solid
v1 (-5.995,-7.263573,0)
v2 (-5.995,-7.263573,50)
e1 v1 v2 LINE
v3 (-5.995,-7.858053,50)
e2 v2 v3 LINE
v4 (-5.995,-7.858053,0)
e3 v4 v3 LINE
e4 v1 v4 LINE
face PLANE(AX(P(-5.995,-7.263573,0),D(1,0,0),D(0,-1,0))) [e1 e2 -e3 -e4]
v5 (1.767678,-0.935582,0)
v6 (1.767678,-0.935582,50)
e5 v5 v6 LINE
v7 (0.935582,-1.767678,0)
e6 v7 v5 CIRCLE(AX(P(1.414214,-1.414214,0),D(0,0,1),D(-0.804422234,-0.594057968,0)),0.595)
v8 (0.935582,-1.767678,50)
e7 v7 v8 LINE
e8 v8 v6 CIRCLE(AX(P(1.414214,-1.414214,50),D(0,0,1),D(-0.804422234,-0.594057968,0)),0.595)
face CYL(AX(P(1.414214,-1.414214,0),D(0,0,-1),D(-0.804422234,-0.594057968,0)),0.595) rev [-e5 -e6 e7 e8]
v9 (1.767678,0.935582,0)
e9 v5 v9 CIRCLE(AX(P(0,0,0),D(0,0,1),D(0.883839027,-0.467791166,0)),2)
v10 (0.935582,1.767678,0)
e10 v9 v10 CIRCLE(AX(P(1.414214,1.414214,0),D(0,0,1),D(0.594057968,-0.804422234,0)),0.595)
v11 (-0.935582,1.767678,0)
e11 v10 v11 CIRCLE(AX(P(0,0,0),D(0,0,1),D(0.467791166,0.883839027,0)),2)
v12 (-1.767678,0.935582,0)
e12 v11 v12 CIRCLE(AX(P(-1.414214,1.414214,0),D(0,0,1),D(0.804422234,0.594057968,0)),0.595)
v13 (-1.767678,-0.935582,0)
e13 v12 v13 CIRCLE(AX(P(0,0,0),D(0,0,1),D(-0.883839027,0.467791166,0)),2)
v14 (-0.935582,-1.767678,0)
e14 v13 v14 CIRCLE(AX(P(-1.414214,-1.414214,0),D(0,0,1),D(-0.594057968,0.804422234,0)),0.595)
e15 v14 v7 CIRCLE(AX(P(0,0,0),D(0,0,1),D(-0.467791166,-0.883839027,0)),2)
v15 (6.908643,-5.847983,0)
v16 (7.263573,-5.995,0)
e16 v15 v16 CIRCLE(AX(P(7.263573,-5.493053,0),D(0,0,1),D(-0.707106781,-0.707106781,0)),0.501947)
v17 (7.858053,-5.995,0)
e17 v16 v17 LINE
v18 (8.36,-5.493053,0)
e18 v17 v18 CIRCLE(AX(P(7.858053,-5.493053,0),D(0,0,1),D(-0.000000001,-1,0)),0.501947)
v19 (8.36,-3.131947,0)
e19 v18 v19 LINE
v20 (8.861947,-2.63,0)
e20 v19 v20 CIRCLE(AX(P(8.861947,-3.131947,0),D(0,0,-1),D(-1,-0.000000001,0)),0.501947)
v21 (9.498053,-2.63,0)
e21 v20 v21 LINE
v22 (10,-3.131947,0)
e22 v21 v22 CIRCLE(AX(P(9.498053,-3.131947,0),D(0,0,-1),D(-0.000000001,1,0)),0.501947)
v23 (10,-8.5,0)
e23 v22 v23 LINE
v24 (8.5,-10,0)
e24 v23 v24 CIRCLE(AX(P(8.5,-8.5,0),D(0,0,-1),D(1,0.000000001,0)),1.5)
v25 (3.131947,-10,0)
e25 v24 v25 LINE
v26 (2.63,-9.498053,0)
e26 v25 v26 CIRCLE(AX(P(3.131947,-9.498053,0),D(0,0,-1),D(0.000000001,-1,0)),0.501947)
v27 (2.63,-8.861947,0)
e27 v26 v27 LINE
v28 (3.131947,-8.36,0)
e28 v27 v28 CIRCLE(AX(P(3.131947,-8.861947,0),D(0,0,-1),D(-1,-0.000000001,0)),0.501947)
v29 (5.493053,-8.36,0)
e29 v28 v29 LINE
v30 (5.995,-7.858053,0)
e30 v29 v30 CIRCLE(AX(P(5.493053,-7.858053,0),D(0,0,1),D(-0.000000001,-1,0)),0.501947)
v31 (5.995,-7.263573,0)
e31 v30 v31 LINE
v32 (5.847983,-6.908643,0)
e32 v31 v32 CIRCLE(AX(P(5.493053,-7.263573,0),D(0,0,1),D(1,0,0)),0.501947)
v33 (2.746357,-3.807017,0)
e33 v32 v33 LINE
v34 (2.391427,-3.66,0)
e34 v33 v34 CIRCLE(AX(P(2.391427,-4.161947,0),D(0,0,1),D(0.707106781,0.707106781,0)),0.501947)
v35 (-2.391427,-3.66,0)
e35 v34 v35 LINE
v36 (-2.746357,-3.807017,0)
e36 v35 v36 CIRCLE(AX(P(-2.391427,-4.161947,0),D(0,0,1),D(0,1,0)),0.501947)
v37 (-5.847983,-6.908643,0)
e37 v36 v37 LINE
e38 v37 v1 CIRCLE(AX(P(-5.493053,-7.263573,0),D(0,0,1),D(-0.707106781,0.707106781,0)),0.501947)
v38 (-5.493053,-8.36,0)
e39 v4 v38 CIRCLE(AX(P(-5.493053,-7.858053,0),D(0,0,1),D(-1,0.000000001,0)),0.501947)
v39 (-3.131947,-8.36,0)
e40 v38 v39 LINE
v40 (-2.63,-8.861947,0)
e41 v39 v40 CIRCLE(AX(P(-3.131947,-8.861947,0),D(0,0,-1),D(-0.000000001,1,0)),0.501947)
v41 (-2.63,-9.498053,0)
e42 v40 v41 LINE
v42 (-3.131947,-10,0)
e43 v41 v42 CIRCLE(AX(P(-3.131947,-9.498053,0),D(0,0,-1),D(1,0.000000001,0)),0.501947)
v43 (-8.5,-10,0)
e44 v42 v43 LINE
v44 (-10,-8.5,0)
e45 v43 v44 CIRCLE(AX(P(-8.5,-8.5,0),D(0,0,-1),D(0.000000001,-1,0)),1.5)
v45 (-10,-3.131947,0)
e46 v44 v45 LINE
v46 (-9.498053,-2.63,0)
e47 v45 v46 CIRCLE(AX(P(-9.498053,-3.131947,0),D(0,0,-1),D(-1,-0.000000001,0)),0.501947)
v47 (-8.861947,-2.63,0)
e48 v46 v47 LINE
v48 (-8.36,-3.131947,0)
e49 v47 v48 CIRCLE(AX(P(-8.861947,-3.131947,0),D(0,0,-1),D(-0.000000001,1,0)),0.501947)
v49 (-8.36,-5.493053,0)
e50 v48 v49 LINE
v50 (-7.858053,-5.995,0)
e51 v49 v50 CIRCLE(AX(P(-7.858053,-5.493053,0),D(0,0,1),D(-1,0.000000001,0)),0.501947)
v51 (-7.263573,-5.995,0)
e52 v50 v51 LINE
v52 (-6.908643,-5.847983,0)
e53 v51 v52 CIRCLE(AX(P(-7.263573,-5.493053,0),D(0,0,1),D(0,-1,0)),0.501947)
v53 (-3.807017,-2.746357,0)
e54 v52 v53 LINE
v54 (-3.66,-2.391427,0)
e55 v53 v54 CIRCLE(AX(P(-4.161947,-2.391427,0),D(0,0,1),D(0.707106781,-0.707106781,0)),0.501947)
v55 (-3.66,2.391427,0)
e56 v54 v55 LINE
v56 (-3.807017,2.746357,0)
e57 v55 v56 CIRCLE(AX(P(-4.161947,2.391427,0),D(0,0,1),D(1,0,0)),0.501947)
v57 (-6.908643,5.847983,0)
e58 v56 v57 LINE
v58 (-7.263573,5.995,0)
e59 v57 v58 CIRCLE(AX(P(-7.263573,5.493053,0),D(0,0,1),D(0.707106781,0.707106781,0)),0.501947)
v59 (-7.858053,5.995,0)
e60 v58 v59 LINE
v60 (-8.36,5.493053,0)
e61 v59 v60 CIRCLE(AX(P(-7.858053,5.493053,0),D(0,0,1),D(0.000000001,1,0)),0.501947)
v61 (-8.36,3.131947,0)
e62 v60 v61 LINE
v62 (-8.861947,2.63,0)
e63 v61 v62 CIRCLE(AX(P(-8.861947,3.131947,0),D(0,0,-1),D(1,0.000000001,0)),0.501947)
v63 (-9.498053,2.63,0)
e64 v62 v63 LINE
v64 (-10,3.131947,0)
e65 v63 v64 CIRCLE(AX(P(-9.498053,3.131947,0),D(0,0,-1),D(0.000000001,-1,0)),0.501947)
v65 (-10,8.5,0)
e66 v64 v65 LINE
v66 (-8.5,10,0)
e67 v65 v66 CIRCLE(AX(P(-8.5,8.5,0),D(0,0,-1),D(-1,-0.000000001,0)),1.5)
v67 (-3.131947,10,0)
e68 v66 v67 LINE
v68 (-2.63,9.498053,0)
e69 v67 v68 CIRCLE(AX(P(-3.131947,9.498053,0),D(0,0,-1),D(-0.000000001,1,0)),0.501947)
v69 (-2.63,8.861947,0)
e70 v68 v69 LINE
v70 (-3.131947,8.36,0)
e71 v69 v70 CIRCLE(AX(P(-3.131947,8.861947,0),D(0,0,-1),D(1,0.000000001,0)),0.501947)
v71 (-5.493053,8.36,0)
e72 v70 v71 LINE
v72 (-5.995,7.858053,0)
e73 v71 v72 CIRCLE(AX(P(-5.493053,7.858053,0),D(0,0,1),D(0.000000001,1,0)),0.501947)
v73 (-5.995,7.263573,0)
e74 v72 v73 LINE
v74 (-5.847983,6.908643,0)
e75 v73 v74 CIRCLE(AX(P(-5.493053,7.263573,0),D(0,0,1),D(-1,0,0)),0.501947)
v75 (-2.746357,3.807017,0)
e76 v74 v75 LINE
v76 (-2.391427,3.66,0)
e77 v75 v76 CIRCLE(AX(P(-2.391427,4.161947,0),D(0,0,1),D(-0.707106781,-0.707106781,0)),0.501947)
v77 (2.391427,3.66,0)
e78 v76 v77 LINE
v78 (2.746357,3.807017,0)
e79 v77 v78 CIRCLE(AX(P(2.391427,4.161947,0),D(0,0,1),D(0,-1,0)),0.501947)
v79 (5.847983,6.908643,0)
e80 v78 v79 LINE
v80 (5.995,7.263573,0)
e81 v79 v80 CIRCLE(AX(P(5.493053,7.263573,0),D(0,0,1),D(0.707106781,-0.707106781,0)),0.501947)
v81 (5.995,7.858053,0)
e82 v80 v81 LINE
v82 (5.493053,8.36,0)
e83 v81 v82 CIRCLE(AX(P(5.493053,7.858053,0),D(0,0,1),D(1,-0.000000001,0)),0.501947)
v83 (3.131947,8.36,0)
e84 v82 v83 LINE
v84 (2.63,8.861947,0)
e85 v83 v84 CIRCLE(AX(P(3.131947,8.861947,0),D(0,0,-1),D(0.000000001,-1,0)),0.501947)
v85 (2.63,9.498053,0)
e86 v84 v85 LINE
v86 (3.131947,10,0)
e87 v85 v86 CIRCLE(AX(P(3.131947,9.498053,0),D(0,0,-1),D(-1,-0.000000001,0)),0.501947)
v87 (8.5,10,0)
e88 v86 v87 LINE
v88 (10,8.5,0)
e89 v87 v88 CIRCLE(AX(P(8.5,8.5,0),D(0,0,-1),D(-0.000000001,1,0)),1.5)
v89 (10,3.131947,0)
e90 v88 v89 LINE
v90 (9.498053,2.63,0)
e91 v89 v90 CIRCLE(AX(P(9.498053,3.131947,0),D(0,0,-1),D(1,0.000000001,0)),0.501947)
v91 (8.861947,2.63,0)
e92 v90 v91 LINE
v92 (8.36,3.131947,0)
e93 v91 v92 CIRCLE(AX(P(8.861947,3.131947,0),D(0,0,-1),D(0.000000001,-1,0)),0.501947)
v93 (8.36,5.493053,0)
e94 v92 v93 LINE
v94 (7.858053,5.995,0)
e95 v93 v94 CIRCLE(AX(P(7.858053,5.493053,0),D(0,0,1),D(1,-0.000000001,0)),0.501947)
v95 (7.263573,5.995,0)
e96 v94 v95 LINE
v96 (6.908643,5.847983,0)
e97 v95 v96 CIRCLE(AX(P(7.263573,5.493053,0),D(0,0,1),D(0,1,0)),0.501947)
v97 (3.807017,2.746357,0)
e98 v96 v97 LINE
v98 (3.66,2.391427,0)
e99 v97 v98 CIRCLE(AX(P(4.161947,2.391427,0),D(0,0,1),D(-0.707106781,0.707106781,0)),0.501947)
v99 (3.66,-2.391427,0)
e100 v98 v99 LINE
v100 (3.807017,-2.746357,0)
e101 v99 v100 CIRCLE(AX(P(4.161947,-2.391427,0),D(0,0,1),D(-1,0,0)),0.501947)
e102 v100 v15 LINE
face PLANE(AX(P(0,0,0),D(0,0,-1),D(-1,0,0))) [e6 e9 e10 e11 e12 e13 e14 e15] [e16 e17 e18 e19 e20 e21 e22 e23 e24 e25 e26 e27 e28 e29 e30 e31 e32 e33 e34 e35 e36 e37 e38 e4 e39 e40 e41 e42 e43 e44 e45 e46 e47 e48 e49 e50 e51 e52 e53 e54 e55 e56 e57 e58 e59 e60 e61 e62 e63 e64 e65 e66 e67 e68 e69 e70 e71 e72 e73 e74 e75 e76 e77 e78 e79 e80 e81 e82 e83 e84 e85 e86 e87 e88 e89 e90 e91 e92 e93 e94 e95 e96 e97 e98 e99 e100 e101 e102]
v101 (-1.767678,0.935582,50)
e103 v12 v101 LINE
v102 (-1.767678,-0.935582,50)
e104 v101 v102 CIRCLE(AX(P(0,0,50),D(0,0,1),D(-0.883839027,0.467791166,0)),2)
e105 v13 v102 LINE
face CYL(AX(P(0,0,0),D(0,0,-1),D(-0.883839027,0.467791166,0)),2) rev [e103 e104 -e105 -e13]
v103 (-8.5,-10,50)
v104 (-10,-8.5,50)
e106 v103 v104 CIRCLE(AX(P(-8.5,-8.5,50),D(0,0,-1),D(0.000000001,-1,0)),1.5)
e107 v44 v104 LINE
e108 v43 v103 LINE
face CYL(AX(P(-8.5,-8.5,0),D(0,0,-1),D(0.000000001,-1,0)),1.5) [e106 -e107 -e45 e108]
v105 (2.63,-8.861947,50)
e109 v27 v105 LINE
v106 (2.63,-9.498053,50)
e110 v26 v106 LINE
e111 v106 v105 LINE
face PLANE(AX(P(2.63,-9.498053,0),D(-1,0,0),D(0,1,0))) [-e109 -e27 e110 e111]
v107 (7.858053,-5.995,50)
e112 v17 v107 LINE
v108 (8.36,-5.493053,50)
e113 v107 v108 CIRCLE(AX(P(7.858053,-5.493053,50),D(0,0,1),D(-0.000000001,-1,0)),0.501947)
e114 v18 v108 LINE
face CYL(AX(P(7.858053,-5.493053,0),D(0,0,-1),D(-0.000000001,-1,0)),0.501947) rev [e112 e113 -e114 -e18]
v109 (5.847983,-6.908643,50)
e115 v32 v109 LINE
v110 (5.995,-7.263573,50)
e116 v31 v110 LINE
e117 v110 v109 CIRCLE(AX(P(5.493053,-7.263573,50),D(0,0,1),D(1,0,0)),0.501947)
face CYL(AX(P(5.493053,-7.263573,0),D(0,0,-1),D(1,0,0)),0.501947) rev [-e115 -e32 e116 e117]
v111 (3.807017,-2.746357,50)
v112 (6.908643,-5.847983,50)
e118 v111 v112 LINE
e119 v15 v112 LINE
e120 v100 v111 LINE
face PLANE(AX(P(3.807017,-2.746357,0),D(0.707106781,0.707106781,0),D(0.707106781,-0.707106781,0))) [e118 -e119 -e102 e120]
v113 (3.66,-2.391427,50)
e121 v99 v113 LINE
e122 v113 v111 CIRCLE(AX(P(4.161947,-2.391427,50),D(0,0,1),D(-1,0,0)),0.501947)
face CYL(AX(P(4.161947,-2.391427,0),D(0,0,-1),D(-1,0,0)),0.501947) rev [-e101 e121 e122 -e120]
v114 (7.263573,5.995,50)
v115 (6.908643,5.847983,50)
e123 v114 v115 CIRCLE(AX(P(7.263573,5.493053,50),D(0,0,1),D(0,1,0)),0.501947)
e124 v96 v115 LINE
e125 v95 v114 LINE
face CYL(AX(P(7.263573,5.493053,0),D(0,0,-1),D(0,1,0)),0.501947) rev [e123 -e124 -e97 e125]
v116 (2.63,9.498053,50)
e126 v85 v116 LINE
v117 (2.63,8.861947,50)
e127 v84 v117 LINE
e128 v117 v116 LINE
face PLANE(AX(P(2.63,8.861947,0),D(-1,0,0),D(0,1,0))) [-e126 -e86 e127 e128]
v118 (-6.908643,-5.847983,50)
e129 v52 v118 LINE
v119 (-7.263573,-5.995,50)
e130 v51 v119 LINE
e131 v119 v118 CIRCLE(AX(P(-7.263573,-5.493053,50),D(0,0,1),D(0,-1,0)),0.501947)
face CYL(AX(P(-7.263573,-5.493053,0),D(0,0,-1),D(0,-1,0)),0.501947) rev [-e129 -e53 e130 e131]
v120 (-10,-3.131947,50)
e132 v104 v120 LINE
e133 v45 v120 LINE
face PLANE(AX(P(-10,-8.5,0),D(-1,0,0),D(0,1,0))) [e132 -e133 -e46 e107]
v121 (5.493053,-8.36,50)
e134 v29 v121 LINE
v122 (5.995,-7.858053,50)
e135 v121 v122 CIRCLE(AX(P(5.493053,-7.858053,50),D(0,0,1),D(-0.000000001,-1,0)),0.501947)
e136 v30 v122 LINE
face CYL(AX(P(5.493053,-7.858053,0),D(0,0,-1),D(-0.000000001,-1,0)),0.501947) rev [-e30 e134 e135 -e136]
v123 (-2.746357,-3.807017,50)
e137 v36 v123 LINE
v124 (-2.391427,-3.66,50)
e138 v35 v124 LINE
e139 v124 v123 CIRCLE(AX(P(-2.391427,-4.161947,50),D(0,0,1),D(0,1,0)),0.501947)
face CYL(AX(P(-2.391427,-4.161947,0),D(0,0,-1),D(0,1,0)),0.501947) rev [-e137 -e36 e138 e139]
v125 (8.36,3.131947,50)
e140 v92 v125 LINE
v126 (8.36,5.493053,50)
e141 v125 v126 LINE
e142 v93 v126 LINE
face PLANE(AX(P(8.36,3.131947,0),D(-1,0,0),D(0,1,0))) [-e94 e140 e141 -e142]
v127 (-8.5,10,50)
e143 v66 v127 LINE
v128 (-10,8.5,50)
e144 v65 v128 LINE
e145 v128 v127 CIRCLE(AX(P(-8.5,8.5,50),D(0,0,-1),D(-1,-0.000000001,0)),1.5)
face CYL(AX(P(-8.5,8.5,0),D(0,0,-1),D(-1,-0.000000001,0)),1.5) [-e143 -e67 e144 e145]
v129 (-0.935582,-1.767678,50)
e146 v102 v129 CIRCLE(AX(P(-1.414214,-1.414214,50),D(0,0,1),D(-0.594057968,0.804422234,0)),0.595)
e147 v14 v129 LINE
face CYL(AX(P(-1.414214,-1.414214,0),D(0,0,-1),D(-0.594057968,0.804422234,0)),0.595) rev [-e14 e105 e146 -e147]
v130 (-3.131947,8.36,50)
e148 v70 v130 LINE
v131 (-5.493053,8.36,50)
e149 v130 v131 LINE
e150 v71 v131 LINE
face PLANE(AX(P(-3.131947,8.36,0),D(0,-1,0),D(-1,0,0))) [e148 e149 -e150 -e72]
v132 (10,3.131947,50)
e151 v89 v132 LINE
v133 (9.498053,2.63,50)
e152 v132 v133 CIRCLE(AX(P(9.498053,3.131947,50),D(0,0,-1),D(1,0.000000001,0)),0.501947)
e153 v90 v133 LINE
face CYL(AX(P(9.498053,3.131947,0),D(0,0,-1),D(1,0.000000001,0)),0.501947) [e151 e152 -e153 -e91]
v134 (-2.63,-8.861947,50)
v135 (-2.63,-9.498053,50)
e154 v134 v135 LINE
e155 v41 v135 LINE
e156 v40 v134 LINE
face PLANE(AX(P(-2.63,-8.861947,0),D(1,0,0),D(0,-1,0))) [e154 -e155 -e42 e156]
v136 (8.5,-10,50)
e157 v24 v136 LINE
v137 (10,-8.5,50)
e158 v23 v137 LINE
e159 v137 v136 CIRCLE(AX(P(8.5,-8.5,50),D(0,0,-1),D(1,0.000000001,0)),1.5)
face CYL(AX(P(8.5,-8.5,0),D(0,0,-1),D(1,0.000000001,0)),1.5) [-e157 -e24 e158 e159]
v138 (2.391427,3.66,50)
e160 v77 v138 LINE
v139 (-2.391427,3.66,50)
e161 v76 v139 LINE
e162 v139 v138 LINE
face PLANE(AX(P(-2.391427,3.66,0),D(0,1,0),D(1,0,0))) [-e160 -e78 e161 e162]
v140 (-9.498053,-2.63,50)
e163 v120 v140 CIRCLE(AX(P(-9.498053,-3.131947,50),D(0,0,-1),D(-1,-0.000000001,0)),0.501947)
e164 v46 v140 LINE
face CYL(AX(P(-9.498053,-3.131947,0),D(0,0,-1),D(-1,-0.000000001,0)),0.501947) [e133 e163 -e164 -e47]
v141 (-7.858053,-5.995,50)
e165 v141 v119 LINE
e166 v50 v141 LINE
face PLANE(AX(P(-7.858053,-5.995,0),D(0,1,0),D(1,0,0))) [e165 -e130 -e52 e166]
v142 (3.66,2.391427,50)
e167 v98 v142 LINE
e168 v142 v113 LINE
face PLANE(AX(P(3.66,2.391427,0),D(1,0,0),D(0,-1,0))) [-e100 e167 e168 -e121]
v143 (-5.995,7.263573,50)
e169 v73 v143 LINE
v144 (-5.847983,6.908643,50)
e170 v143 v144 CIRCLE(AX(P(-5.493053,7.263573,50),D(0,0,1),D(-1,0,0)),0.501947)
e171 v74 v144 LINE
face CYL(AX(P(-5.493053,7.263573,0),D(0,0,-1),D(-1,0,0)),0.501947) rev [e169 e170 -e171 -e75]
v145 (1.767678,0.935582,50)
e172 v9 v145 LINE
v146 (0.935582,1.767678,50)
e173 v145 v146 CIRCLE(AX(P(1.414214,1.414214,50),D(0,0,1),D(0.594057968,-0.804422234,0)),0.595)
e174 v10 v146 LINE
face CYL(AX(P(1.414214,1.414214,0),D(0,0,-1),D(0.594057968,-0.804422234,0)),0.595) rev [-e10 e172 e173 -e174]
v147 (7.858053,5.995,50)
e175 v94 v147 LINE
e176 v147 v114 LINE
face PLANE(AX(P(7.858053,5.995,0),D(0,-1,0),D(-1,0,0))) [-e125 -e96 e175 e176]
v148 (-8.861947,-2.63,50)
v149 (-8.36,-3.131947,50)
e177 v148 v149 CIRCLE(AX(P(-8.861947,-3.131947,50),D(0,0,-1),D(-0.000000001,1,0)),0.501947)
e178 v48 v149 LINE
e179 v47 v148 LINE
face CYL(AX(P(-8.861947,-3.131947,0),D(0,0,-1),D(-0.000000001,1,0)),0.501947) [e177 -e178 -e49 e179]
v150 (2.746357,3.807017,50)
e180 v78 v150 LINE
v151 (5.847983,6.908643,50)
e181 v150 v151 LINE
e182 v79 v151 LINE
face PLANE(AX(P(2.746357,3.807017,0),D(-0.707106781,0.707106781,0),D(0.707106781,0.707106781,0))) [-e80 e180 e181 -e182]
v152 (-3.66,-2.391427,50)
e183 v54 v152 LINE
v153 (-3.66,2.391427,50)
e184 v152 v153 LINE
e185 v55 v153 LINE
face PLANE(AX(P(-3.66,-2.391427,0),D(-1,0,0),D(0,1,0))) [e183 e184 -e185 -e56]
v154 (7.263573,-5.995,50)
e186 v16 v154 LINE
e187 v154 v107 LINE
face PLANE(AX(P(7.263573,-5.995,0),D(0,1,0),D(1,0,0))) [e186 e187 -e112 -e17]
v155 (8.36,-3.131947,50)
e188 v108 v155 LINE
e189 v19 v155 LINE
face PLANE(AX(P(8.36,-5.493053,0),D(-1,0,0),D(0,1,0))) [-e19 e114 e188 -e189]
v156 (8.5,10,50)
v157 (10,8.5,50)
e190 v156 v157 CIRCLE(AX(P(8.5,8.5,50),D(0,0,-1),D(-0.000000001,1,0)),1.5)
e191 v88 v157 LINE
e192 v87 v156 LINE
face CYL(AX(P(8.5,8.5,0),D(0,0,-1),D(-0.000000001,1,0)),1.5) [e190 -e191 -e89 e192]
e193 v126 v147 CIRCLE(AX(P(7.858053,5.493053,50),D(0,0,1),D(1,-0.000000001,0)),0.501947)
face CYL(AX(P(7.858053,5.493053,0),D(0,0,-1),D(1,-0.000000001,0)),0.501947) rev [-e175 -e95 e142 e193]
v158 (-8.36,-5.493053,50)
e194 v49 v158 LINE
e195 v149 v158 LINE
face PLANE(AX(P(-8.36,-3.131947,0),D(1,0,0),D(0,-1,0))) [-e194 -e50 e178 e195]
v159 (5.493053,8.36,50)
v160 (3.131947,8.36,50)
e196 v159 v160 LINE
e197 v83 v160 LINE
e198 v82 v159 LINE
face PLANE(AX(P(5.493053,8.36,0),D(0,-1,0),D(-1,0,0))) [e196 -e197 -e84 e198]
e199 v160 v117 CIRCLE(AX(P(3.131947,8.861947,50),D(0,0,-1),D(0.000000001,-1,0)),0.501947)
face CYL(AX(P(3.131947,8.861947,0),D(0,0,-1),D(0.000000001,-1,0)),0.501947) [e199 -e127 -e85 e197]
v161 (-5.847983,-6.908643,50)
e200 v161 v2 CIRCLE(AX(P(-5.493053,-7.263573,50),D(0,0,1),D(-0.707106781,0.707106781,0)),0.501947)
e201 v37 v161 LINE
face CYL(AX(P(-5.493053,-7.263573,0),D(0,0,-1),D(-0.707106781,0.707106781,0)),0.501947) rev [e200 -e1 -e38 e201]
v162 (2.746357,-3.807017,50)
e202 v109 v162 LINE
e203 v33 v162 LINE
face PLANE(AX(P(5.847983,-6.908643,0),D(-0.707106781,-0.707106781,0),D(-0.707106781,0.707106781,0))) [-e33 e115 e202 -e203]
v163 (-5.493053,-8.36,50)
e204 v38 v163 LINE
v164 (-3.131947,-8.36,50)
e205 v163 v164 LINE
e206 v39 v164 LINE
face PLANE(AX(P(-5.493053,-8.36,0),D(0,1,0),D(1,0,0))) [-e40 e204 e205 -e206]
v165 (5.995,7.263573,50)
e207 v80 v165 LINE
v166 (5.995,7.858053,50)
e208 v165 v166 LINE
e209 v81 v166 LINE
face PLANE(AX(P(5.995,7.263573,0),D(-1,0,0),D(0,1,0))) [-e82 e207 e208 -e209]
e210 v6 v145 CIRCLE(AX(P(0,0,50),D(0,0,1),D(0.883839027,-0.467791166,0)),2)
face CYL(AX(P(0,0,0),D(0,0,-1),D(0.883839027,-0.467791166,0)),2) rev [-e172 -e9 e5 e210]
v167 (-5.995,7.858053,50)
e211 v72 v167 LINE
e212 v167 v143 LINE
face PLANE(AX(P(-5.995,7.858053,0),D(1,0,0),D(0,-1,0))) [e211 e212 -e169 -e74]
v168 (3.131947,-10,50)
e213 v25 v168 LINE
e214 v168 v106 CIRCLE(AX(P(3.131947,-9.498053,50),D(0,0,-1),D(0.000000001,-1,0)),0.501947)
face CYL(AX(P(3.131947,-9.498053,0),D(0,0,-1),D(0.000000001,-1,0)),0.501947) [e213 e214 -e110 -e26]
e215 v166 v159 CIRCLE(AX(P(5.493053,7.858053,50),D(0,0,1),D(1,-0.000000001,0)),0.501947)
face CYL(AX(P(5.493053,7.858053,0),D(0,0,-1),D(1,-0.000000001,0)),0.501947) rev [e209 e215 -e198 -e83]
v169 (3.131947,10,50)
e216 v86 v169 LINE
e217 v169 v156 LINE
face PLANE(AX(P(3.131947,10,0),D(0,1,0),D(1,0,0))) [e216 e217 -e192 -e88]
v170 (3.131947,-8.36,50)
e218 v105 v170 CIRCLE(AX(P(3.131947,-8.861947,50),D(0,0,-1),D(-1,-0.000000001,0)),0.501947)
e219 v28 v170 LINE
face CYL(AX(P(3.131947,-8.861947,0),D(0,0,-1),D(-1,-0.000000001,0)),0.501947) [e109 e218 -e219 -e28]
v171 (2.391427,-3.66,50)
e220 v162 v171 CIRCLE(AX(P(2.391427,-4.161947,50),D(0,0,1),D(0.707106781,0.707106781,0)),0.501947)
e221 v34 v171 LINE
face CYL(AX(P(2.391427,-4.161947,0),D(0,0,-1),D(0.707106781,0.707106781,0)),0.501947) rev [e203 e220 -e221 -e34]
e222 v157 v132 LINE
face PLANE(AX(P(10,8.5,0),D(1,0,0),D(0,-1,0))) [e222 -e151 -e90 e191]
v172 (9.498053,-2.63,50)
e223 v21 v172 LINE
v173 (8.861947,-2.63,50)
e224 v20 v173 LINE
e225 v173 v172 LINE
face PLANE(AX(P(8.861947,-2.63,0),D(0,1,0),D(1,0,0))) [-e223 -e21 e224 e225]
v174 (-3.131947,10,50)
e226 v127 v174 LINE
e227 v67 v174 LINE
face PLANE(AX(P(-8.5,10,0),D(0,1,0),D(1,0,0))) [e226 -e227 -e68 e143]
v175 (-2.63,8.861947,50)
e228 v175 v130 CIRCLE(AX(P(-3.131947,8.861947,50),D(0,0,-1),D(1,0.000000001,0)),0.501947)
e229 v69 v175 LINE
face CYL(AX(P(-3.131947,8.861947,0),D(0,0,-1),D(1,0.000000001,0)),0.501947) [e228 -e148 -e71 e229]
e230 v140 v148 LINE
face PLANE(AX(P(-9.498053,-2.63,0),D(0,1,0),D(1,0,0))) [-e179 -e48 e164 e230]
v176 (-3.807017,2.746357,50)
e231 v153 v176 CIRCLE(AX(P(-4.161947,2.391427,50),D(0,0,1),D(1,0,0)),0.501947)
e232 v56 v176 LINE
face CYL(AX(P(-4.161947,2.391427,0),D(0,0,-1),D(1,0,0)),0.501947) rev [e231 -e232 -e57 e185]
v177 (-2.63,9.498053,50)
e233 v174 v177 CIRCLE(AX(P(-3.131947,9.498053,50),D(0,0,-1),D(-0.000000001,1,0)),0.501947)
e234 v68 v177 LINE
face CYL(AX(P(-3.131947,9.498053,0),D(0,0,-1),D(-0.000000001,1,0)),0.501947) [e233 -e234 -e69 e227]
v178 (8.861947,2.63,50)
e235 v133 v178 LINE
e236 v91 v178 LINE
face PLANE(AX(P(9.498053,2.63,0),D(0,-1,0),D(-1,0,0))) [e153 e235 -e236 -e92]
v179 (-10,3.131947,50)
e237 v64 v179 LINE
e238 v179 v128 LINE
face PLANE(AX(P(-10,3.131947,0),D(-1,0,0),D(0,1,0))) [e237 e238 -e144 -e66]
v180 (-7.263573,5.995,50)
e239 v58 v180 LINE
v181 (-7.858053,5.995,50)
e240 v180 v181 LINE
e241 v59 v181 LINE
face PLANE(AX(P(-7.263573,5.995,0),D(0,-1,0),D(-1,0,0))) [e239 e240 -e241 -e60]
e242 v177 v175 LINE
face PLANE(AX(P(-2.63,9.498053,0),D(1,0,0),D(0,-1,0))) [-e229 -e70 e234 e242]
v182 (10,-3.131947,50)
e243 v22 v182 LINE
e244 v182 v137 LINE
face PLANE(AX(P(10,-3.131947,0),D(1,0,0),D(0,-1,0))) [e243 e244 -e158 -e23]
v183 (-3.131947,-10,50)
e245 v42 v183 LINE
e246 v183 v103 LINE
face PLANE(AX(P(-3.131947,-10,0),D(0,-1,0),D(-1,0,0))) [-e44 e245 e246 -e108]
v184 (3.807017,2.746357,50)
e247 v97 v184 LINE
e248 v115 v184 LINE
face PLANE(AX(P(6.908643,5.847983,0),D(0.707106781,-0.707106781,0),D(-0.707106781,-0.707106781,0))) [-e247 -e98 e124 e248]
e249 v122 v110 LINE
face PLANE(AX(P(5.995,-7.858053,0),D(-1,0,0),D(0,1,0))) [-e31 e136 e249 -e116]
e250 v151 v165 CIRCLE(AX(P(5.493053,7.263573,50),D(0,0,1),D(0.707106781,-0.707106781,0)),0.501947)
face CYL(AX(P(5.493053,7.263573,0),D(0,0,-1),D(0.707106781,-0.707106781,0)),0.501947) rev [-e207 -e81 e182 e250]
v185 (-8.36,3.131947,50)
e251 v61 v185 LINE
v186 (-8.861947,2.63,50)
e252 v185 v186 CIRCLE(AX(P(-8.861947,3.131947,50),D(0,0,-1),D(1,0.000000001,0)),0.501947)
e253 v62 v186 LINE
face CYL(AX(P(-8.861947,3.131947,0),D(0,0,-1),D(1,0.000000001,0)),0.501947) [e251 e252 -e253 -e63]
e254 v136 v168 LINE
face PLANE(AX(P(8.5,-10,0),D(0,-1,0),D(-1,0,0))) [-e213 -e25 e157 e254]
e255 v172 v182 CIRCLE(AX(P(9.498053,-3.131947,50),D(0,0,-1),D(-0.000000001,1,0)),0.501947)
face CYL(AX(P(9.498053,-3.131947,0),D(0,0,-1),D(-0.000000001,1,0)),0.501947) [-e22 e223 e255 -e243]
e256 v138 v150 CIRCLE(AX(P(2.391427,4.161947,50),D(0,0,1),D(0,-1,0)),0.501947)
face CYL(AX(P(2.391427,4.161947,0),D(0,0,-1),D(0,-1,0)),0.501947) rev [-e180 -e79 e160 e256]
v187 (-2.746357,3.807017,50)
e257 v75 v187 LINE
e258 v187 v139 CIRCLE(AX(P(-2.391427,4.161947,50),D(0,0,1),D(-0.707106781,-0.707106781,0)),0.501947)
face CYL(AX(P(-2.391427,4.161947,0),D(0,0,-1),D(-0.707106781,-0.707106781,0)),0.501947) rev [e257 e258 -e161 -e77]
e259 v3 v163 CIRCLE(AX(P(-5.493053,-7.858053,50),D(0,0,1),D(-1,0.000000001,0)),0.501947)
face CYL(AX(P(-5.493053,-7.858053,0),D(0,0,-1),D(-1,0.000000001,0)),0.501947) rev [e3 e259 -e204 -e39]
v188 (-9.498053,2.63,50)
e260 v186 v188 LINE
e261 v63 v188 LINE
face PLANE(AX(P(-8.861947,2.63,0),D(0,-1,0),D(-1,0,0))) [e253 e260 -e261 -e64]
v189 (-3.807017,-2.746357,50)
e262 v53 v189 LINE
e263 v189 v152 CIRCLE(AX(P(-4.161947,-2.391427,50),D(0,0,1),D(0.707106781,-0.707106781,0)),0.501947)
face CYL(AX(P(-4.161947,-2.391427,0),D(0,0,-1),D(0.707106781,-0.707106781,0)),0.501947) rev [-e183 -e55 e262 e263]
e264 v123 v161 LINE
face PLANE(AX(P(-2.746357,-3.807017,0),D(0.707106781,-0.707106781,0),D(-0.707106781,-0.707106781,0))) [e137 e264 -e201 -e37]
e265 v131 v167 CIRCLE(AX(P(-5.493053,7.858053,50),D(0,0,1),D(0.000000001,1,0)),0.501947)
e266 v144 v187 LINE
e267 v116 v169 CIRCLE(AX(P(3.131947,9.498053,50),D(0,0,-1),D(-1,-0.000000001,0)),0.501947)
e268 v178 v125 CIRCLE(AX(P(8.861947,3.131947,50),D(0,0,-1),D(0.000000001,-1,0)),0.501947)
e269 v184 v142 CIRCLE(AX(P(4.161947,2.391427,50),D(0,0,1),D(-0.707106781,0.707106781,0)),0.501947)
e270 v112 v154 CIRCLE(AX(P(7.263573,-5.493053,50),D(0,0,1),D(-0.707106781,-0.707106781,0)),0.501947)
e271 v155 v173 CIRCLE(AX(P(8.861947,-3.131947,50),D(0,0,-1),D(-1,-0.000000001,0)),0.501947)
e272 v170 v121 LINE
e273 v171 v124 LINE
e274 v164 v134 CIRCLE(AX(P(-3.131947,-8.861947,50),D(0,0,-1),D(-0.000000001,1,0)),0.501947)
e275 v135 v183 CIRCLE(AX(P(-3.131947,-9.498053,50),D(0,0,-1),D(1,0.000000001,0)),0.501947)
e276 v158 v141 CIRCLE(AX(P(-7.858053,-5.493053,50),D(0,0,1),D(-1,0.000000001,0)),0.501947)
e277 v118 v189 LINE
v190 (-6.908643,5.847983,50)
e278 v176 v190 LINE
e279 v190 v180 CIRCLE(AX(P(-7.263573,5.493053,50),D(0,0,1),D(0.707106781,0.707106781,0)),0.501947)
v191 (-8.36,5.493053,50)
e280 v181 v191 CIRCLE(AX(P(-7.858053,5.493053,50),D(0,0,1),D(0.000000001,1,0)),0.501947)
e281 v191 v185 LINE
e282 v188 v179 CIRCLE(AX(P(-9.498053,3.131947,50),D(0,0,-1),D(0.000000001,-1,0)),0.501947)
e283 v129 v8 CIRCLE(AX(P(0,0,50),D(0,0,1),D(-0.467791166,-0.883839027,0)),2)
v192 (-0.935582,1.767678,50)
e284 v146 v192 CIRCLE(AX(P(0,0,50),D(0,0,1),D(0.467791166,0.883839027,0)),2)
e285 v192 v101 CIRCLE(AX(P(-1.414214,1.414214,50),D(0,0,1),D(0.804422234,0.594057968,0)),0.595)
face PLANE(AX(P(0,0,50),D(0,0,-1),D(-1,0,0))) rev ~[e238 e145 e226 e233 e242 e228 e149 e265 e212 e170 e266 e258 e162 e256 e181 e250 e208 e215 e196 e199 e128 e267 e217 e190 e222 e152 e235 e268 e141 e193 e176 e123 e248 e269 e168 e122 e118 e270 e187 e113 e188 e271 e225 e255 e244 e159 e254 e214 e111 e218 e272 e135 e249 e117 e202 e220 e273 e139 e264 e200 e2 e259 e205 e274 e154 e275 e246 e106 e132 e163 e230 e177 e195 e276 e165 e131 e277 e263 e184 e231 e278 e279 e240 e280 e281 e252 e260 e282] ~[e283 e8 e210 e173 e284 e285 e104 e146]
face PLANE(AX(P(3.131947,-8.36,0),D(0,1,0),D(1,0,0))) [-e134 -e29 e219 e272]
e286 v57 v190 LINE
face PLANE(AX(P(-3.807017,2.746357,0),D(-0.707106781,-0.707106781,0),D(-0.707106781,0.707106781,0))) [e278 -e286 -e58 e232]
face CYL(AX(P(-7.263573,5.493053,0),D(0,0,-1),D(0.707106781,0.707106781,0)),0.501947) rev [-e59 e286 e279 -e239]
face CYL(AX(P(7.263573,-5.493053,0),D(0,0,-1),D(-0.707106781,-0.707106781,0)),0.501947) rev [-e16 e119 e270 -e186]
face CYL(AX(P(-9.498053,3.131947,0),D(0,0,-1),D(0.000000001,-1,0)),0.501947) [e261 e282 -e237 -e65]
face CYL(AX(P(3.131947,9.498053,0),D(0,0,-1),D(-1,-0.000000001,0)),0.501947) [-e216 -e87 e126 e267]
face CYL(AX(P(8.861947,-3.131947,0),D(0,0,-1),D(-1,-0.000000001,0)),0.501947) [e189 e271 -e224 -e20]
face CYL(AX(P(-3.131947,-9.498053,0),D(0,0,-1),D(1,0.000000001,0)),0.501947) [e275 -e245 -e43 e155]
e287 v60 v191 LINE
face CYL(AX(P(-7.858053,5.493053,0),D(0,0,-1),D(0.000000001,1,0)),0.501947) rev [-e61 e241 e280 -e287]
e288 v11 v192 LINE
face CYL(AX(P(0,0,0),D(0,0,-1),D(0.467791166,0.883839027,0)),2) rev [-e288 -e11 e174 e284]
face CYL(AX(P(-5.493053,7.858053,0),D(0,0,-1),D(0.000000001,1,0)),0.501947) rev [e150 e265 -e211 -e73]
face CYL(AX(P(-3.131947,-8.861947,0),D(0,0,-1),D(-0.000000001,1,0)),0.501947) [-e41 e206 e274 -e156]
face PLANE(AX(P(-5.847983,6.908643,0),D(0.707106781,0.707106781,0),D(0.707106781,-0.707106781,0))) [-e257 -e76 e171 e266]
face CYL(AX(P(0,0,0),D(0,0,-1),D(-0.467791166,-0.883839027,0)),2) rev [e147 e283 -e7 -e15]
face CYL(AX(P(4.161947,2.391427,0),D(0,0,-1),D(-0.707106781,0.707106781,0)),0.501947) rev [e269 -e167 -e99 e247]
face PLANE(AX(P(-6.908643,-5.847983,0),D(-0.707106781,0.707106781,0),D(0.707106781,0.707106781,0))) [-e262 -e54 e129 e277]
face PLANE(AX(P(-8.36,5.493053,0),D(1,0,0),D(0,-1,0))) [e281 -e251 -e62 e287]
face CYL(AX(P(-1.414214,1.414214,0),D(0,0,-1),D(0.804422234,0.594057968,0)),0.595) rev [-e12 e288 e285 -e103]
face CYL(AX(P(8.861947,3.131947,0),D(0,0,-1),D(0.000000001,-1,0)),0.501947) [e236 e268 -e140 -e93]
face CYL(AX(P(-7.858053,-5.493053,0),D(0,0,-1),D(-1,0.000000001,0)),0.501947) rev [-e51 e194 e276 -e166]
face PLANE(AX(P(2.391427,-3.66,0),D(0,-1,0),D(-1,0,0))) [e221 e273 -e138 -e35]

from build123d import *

# Parameters (mm, degrees)
BOSS_EXTRUDE1_DEPTH = 50


with BuildPart() as part:
    # Sketch1 → Boss-Extrude1 (new body)
    with BuildSketch(Plane.XY):
        with BuildLine():
            Line((-2.746356642, -3.807016814), (-5.847983186, -6.908643358))
            ThreePointArc((-5.847983186, -6.908643358), (-5.956791575, -7.07148662), (-5.995, -7.263573344))
            Line((-5.995, -7.263573344), (-5.995, -7.858053199))
            ThreePointArc((-5.995, -7.858053199), (-5.847983186, -8.212983186), (-5.493053199, -8.36))
            Line((-5.493053199, -8.36), (-3.131946801, -8.36))
            ThreePointArc((-3.131946801, -8.36), (-2.777016814, -8.507016814), (-2.63, -8.861946801))
            Line((-2.63, -8.861946801), (-2.63, -9.498053199))
            ThreePointArc((-2.63, -9.498053199), (-2.777016814, -9.852983186), (-3.131946801, -10))
            Line((-3.131946801, -10), (-8.5, -10))
            ThreePointArc((-8.5, -10), (-9.560660172, -9.560660172), (-10, -8.5))
            Line((-10, -8.5), (-10, -3.131946801))
            ThreePointArc((-10, -3.131946801), (-9.852983186, -2.777016814), (-9.498053199, -2.63))
            Line((-9.498053199, -2.63), (-8.861946801, -2.63))
            ThreePointArc((-8.861946801, -2.63), (-8.507016814, -2.777016814), (-8.36, -3.131946801))
            Line((-8.36, -3.131946801), (-8.36, -5.493053199))
            ThreePointArc((-8.36, -5.493053199), (-8.212983186, -5.847983186), (-7.858053199, -5.995))
            Line((-7.858053199, -5.995), (-7.263573344, -5.995))
            ThreePointArc((-7.263573344, -5.995), (-7.07148662, -5.956791575), (-6.908643358, -5.847983186))
            Line((-6.908643358, -5.847983186), (-3.807016814, -2.746356642))
            ThreePointArc((-3.807016814, -2.746356642), (-3.698208425, -2.58351338), (-3.66, -2.391426656))
            Line((-3.66, -2.391426656), (-3.66, 2.391426656))
            ThreePointArc((-3.66, 2.391426656), (-3.698208425, 2.58351338), (-3.807016814, 2.746356642))
            Line((-3.807016814, 2.746356642), (-6.908643358, 5.847983186))
            ThreePointArc((-6.908643358, 5.847983186), (-7.07148662, 5.956791575), (-7.263573344, 5.995))
            Line((-7.263573344, 5.995), (-7.858053199, 5.995))
            ThreePointArc((-7.858053199, 5.995), (-8.212983186, 5.847983186), (-8.36, 5.493053199))
            Line((-8.36, 5.493053199), (-8.36, 3.131946801))
            ThreePointArc((-8.36, 3.131946801), (-8.507016814, 2.777016814), (-8.861946801, 2.63))
            Line((-8.861946801, 2.63), (-9.498053199, 2.63))
            ThreePointArc((-9.498053199, 2.63), (-9.852983186, 2.777016814), (-10, 3.131946801))
            Line((-10, 3.131946801), (-10, 8.5))
            ThreePointArc((-10, 8.5), (-9.560660172, 9.560660172), (-8.5, 10))
            Line((-8.5, 10), (-3.131946801, 10))
            ThreePointArc((-3.131946801, 10), (-2.777016814, 9.852983186), (-2.63, 9.498053199))
            Line((-2.63, 9.498053199), (-2.63, 8.861946801))
            ThreePointArc((-2.63, 8.861946801), (-2.777016814, 8.507016814), (-3.131946801, 8.36))
            Line((-3.131946801, 8.36), (-5.493053199, 8.36))
            ThreePointArc((-5.493053199, 8.36), (-5.847983186, 8.212983186), (-5.995, 7.858053199))
            Line((-5.995, 7.858053199), (-5.995, 7.263573344))
            ThreePointArc((-5.995, 7.263573344), (-5.956791575, 7.07148662), (-5.847983186, 6.908643358))
            Line((-5.847983186, 6.908643358), (-2.746356642, 3.807016814))
            ThreePointArc((-2.746356642, 3.807016814), (-2.58351338, 3.698208425), (-2.391426656, 3.66))
            Line((-2.391426656, 3.66), (2.391426656, 3.66))
            ThreePointArc((2.391426656, 3.66), (2.58351338, 3.698208425), (2.746356642, 3.807016814))
            Line((2.746356642, 3.807016814), (5.847983186, 6.908643358))
            ThreePointArc((5.847983186, 6.908643358), (5.956791575, 7.07148662), (5.995, 7.263573344))
            Line((5.995, 7.263573344), (5.995, 7.858053199))
            ThreePointArc((5.995, 7.858053199), (5.847983186, 8.212983186), (5.493053199, 8.36))
            Line((5.493053199, 8.36), (3.131946801, 8.36))
            ThreePointArc((3.131946801, 8.36), (2.777016814, 8.507016814), (2.63, 8.861946801))
            Line((2.63, 8.861946801), (2.63, 9.498053199))
            ThreePointArc((2.63, 9.498053199), (2.777016814, 9.852983186), (3.131946801, 10))
            Line((3.131946801, 10), (8.5, 10))
            ThreePointArc((8.5, 10), (9.560660172, 9.560660172), (10, 8.5))
            Line((10, 8.5), (10, 3.131946801))
            ThreePointArc((10, 3.131946801), (9.852983186, 2.777016814), (9.498053199, 2.63))
            Line((9.498053199, 2.63), (8.861946801, 2.63))
            ThreePointArc((8.861946801, 2.63), (8.507016814, 2.777016814), (8.36, 3.131946801))
            Line((8.36, 3.131946801), (8.36, 5.493053199))
            ThreePointArc((8.36, 5.493053199), (8.212983186, 5.847983186), (7.858053199, 5.995))
            Line((7.858053199, 5.995), (7.263573344, 5.995))
            ThreePointArc((7.263573344, 5.995), (7.07148662, 5.956791575), (6.908643358, 5.847983186))
            Line((6.908643358, 5.847983186), (3.807016814, 2.746356642))
            ThreePointArc((3.807016814, 2.746356642), (3.698208425, 2.58351338), (3.66, 2.391426656))
            Line((3.66, 2.391426656), (3.66, -2.391426656))
            ThreePointArc((3.66, -2.391426656), (3.698208425, -2.58351338), (3.807016814, -2.746356642))
            Line((3.807016814, -2.746356642), (6.908643358, -5.847983186))
            ThreePointArc((6.908643358, -5.847983186), (7.07148662, -5.956791575), (7.263573344, -5.995))
            Line((7.263573344, -5.995), (7.858053199, -5.995))
            ThreePointArc((7.858053199, -5.995), (8.212983186, -5.847983186), (8.36, -5.493053199))
            Line((8.36, -5.493053199), (8.36, -3.131946801))
            ThreePointArc((8.36, -3.131946801), (8.507016814, -2.777016814), (8.861946801, -2.63))
            Line((8.861946801, -2.63), (9.498053199, -2.63))
            ThreePointArc((9.498053199, -2.63), (9.852983186, -2.777016814), (10, -3.131946801))
            Line((10, -3.131946801), (10, -8.5))
            ThreePointArc((10, -8.5), (9.560660172, -9.560660172), (8.5, -10))
            Line((8.5, -10), (3.131946801, -10))
            ThreePointArc((3.131946801, -10), (2.777016814, -9.852983186), (2.63, -9.498053199))
            Line((2.63, -9.498053199), (2.63, -8.861946801))
            ThreePointArc((2.63, -8.861946801), (2.777016814, -8.507016814), (3.131946801, -8.36))
            Line((3.131946801, -8.36), (5.493053199, -8.36))
            ThreePointArc((5.493053199, -8.36), (5.847983186, -8.212983186), (5.995, -7.858053199))
            Line((5.995, -7.858053199), (5.995, -7.263573344))
            ThreePointArc((5.995, -7.263573344), (5.956791575, -7.07148662), (5.847983186, -6.908643358))
            Line((5.847983186, -6.908643358), (2.746356642, -3.807016814))
            ThreePointArc((2.746356642, -3.807016814), (2.58351338, -3.698208425), (2.391426656, -3.66))
            Line((2.391426656, -3.66), (-2.391426656, -3.66))
            ThreePointArc((-2.391426656, -3.66), (-2.58351338, -3.698208425), (-2.746356642, -3.807016814))
        make_face()
        with BuildLine():
            ThreePointArc((-1.767678053, 0.935582333), (-2, 0), (-1.767678053, -0.935582333))
            ThreePointArc((-1.767678053, -0.935582333), (-1.834942097, -1.834942097), (-0.935582333, -1.767678053))
            ThreePointArc((-0.935582333, -1.767678053), (0, -2), (0.935582333, -1.767678053))
            ThreePointArc((0.935582333, -1.767678053), (1.834942097, -1.834942097), (1.767678053, -0.935582333))
            ThreePointArc((1.767678053, -0.935582333), (2, 0), (1.767678053, 0.935582333))
            ThreePointArc((1.767678053, 0.935582333), (1.834942097, 1.834942097), (0.935582333, 1.767678053))
            ThreePointArc((0.935582333, 1.767678053), (0, 2), (-0.935582333, 1.767678053))
            ThreePointArc((-0.935582333, 1.767678053), (-1.834942097, 1.834942097), (-1.767678053, 0.935582333))
        make_face(mode=Mode.SUBTRACT)
    extrude(amount=BOSS_EXTRUDE1_DEPTH)


solid = part.part
